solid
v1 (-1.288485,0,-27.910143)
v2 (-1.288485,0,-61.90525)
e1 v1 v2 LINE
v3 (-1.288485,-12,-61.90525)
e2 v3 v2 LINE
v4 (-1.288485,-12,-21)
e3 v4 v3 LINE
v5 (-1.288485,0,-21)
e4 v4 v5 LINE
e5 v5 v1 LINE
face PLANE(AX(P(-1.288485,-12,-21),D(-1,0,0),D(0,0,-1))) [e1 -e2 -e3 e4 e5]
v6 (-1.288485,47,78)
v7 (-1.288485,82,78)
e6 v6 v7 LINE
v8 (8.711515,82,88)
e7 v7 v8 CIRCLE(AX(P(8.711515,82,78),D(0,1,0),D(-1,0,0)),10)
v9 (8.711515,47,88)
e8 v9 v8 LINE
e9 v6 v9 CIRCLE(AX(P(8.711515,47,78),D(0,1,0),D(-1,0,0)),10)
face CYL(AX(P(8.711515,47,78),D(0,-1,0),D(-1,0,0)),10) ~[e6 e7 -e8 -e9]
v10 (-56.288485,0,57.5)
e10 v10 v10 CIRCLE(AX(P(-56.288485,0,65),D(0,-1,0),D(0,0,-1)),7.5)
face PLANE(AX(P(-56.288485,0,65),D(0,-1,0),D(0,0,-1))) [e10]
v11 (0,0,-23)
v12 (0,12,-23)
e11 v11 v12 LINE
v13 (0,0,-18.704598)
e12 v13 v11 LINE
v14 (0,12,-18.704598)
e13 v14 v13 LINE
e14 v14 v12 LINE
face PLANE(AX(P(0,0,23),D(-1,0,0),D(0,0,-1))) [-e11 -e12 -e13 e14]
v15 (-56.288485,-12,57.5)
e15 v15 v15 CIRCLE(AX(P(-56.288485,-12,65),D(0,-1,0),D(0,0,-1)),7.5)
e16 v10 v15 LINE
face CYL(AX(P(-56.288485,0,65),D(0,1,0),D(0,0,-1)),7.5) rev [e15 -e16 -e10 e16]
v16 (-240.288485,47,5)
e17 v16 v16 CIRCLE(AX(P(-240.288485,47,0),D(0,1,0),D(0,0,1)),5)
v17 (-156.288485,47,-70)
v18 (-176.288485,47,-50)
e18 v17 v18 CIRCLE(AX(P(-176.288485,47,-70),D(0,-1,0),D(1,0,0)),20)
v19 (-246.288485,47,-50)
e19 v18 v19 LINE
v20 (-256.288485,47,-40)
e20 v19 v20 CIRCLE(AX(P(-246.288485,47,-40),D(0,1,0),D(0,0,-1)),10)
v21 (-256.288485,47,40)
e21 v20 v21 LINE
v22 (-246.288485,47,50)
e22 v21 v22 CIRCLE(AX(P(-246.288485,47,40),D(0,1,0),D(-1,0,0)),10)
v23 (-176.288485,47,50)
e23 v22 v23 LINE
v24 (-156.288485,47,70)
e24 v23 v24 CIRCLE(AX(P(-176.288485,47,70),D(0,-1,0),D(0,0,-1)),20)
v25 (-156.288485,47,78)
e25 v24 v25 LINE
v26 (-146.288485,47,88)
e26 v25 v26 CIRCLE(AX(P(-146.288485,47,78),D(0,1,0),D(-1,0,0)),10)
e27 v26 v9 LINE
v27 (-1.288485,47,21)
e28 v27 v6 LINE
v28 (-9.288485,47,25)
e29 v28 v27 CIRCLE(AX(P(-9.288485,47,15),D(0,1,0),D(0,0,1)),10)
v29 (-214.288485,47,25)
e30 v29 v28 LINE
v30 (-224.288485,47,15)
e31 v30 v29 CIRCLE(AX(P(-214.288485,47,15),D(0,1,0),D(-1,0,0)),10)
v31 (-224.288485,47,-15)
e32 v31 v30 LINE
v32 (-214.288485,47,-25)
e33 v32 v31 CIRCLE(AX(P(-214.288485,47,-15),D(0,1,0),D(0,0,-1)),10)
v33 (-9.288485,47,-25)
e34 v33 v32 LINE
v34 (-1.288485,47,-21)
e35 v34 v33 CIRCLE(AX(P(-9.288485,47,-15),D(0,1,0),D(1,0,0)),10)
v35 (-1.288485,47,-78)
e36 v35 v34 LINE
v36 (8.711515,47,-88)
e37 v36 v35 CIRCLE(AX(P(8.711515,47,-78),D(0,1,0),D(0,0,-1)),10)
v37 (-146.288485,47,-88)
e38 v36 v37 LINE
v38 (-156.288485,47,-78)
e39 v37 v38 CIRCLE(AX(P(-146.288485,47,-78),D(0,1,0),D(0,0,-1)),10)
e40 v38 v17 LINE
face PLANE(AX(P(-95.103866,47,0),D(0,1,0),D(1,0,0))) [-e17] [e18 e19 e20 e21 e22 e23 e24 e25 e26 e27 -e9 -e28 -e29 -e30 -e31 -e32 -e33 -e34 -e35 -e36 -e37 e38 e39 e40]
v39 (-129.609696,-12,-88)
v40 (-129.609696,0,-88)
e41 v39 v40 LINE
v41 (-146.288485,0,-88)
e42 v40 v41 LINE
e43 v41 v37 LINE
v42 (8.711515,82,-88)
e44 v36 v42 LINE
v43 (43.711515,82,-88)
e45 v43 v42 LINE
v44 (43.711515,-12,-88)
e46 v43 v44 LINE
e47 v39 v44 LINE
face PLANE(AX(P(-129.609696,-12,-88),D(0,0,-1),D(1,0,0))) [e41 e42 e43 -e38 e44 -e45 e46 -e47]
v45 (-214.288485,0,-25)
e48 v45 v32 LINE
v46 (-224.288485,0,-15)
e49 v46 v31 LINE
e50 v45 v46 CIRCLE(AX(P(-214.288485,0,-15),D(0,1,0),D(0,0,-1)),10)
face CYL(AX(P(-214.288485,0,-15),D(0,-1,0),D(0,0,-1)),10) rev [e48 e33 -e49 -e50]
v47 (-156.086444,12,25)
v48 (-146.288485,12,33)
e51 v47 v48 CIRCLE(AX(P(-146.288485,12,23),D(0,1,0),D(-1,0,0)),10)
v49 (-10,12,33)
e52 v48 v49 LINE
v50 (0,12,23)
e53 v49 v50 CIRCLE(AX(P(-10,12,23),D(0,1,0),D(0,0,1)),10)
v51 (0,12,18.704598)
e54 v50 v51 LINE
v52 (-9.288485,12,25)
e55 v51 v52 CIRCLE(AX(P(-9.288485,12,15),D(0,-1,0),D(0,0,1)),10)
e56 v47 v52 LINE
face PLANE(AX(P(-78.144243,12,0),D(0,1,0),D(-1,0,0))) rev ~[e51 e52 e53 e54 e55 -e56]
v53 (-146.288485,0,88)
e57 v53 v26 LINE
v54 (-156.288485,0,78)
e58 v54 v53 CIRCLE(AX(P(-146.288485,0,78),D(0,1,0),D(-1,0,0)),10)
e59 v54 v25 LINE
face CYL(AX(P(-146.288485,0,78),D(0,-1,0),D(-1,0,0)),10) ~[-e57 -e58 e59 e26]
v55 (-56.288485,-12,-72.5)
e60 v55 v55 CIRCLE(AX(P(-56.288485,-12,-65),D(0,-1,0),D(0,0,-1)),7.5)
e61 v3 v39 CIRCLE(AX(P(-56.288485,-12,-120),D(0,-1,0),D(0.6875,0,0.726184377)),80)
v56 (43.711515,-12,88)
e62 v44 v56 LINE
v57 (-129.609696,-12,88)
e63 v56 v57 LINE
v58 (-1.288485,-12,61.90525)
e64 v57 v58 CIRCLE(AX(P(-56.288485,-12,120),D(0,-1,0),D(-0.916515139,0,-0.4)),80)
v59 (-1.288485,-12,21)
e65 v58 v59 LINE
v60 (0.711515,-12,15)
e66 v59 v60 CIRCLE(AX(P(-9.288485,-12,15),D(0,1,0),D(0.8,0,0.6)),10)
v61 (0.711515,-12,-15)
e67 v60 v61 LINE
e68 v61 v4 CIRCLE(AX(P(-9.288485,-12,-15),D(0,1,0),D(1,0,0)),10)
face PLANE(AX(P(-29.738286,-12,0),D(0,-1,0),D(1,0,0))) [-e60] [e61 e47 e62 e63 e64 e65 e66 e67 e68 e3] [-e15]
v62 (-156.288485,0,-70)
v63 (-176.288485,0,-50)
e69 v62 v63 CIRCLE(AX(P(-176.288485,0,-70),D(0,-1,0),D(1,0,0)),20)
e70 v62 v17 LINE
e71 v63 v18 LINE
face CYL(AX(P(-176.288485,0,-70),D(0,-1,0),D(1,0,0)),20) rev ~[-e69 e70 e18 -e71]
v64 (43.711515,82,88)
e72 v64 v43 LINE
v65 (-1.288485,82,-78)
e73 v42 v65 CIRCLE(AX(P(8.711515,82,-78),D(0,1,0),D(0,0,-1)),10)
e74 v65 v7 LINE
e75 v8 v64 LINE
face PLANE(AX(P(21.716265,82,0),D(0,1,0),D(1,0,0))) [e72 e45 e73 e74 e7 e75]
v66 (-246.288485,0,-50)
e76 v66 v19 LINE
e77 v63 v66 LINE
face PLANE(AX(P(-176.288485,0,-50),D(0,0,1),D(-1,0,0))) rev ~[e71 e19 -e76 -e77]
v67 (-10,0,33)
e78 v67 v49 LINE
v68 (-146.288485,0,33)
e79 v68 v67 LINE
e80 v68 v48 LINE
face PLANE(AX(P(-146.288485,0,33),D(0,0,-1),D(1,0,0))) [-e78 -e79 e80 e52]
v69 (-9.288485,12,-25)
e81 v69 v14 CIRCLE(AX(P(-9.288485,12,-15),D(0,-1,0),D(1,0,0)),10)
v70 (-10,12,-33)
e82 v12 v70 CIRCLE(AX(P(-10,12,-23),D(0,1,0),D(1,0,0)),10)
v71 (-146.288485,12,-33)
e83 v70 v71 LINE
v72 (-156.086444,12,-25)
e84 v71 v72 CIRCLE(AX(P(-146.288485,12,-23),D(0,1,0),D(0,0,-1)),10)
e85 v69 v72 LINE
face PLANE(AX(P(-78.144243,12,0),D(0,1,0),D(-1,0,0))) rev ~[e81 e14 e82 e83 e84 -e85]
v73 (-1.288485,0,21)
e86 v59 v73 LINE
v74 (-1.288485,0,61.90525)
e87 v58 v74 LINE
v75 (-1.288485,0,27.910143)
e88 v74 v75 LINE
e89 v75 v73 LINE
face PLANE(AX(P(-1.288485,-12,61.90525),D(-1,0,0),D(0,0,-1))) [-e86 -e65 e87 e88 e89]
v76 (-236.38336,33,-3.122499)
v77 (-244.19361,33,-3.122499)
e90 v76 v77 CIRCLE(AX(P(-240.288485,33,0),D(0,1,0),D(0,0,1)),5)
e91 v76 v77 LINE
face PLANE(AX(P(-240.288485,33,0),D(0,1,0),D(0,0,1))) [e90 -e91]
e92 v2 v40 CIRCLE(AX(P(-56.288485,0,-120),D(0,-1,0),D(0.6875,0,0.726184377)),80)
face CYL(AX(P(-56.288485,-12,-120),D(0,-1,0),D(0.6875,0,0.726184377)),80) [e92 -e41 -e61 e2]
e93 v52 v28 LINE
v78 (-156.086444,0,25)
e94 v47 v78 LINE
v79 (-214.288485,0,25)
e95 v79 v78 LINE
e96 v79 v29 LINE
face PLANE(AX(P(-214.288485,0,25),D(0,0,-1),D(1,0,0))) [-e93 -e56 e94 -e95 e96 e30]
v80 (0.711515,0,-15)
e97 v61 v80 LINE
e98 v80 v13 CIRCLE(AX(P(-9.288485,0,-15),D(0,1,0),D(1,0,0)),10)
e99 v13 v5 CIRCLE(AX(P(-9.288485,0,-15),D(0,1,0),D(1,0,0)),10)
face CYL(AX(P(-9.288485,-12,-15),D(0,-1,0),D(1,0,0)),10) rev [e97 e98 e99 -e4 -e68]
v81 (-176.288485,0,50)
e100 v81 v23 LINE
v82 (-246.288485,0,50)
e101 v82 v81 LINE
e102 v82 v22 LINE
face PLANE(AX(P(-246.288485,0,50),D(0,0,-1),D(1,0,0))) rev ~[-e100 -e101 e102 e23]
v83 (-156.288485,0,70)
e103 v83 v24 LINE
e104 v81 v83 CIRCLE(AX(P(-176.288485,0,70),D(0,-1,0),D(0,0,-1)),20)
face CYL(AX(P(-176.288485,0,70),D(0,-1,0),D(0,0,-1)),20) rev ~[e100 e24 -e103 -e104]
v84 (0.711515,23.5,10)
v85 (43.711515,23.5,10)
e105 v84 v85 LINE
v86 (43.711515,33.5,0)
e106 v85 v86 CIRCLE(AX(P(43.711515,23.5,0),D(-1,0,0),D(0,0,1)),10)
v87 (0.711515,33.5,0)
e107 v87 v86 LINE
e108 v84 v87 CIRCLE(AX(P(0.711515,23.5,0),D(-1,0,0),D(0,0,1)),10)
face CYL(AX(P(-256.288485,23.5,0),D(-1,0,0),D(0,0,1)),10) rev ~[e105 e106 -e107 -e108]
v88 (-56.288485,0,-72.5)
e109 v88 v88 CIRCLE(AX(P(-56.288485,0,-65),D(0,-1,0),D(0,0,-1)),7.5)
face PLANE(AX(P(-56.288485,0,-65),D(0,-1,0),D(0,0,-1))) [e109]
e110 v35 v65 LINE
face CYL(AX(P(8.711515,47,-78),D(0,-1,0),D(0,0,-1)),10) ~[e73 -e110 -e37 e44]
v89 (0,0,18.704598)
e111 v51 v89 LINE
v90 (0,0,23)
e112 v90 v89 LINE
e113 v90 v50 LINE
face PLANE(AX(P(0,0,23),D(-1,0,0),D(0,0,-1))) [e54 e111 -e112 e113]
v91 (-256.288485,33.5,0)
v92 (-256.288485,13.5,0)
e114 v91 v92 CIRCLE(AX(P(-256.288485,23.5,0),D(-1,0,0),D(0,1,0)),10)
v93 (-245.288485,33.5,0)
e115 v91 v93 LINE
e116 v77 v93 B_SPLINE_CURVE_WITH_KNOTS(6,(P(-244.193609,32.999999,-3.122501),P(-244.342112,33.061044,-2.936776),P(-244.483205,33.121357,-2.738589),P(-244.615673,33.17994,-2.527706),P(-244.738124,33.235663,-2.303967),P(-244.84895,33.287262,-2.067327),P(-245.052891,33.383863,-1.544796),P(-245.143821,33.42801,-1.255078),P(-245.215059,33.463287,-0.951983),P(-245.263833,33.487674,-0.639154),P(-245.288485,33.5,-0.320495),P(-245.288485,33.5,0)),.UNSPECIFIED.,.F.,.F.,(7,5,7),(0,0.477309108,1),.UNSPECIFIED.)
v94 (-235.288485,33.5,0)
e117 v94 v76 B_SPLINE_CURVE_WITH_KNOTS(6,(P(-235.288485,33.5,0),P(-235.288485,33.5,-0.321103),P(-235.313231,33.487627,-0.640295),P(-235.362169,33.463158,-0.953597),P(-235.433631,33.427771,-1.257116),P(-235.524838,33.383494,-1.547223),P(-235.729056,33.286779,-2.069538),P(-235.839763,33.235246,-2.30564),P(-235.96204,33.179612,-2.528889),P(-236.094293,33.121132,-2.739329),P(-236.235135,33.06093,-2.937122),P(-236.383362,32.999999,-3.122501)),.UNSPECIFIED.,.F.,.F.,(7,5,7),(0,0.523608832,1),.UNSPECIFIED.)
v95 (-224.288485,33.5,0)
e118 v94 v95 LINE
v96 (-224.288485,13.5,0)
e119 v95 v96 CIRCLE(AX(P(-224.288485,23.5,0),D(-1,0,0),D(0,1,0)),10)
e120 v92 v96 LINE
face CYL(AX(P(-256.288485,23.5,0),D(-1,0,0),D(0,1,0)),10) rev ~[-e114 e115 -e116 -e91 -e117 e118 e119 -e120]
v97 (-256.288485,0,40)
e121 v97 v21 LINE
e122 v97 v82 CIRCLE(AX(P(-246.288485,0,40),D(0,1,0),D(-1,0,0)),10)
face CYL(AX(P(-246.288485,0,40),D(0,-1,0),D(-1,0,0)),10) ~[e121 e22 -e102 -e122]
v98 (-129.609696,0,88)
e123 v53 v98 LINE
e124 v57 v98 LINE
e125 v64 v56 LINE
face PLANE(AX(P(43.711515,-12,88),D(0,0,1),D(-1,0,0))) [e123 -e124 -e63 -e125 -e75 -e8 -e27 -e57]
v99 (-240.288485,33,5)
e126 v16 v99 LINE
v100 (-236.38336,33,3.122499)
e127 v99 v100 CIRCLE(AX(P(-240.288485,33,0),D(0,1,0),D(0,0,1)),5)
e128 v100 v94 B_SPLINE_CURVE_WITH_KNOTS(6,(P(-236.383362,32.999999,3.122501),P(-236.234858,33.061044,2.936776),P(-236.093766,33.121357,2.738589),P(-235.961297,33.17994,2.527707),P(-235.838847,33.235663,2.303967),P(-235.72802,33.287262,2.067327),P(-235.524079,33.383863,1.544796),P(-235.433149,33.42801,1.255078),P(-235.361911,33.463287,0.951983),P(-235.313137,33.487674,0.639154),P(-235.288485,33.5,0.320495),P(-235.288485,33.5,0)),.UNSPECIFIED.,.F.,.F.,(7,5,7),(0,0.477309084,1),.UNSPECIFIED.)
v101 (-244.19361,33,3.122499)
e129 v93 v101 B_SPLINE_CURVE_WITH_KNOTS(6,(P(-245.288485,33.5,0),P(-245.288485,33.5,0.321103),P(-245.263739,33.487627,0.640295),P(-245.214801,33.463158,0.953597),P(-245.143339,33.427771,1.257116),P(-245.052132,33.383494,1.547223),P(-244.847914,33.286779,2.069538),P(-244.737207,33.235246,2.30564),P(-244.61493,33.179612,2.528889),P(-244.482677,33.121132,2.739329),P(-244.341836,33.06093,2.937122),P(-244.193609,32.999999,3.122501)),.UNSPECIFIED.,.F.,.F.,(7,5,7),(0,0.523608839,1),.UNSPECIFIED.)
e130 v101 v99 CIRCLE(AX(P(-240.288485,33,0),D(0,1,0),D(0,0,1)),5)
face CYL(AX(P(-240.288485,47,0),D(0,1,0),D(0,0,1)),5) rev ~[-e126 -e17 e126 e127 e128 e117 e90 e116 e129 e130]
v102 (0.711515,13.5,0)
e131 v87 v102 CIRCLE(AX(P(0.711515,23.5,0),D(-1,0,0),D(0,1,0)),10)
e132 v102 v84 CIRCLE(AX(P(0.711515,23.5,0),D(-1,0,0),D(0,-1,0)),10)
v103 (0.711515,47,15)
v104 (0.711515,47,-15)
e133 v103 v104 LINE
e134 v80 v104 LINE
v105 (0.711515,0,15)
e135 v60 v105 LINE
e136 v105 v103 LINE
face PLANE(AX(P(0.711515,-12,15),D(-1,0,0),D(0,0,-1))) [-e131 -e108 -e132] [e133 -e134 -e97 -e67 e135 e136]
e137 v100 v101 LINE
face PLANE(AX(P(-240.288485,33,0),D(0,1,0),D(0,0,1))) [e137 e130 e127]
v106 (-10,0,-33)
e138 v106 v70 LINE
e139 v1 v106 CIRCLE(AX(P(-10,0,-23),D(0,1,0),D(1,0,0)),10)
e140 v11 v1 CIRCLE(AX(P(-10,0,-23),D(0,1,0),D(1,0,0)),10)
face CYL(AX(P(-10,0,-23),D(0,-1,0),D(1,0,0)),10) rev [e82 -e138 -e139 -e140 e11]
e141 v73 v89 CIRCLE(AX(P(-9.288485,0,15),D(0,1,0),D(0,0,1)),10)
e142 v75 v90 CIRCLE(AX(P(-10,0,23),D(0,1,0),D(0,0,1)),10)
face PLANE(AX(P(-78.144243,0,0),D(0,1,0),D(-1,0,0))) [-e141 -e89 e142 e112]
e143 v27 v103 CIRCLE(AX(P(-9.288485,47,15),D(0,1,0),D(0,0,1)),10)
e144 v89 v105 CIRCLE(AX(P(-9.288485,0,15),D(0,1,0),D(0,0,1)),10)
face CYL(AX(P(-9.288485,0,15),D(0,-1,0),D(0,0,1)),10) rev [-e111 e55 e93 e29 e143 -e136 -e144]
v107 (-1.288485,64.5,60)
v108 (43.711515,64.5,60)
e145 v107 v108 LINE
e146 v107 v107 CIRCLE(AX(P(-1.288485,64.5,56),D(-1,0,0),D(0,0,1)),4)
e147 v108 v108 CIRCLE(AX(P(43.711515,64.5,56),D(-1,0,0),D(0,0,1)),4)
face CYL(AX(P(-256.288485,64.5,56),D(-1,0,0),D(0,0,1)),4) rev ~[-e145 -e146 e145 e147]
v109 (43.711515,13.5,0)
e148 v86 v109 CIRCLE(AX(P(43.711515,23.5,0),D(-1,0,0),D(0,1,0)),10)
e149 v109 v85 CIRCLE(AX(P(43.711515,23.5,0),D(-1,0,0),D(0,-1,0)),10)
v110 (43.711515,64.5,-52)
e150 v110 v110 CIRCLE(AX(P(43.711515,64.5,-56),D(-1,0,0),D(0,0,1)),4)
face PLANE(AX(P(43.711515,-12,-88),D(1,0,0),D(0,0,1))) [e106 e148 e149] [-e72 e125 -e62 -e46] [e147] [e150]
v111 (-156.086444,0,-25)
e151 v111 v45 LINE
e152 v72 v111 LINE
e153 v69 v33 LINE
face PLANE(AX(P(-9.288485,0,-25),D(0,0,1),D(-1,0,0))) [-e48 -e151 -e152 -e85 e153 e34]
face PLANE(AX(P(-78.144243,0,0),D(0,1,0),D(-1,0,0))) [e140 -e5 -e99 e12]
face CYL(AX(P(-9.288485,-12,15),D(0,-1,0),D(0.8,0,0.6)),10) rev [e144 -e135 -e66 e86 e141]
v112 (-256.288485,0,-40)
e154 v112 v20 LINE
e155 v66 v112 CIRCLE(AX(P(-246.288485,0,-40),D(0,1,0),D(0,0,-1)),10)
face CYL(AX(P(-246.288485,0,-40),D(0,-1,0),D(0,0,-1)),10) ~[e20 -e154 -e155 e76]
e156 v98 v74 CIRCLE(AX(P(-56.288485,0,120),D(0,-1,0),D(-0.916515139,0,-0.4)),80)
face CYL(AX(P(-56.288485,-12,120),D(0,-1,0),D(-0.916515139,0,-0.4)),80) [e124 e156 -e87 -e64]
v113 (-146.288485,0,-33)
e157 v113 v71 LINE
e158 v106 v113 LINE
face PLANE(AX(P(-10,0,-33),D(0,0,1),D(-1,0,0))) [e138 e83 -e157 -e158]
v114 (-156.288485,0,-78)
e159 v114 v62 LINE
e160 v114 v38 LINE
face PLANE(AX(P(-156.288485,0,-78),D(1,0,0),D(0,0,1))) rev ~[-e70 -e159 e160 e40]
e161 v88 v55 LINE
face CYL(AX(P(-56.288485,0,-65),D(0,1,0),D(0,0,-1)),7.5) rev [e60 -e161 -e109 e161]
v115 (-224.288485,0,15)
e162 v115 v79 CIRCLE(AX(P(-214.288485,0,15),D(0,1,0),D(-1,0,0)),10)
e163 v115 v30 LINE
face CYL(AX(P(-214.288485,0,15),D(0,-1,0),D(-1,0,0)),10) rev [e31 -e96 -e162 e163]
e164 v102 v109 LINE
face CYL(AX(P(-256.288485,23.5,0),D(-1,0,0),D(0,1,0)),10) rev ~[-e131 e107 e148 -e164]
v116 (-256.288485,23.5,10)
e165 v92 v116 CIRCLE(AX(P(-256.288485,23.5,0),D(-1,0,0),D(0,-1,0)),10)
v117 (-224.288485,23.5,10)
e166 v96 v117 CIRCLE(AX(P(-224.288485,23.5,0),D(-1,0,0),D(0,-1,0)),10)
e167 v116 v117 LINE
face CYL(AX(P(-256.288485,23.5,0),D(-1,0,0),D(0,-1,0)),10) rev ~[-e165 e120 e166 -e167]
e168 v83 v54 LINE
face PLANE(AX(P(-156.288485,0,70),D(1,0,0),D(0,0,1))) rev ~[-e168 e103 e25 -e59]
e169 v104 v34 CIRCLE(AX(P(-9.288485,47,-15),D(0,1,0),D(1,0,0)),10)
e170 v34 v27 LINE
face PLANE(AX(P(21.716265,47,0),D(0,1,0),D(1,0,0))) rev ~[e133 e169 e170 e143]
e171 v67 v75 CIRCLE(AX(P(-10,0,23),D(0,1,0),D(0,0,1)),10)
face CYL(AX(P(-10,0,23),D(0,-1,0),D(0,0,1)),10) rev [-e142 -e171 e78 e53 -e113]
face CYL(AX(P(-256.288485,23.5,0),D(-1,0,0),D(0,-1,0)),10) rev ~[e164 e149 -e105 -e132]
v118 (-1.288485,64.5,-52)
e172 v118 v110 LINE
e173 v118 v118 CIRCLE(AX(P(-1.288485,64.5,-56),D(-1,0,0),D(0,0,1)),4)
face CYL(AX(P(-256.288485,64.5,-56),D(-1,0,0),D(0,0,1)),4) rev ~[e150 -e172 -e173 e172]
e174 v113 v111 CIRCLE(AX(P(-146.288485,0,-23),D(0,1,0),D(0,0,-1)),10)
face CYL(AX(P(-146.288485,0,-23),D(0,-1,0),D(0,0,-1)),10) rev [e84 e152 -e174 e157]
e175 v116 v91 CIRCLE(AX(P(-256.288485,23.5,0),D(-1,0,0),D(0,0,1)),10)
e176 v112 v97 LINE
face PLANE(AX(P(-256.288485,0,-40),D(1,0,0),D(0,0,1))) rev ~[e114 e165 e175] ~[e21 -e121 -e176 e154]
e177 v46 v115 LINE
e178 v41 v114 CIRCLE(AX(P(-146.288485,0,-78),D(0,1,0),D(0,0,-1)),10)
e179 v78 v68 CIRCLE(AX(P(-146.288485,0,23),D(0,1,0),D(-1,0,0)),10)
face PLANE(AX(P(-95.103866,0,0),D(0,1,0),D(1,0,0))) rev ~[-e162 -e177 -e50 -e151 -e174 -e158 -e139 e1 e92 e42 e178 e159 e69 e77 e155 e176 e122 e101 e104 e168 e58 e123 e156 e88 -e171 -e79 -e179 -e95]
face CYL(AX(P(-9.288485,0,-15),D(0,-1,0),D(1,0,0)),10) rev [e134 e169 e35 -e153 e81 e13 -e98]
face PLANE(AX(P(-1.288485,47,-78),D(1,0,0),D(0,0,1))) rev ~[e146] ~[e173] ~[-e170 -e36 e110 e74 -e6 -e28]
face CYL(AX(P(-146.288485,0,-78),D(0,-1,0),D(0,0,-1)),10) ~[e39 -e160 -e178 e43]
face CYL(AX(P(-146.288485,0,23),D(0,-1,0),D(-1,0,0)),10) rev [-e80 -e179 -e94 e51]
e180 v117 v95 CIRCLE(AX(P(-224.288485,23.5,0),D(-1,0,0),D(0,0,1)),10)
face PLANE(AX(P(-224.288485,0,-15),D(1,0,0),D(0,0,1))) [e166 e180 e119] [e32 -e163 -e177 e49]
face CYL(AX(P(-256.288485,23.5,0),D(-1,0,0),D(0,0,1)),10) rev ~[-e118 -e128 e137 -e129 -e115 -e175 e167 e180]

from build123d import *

# Parameters (mm, degrees)
BOSS_EXTRUDE1_DEPTH = 47
BOSS_EXTRUDE2_DEPTH = 35
BOSS_EXTRUDE3_START = 12
BOSS_EXTRUDE3_DEPTH = 12
SKETCH3_R           = 4
CUT_EXTRUDE1_DEPTH  = 324.215098657
SKETCH6_R           = 7.5
CUT_EXTRUDE3_DEPTH  = 12
CUT_EXTRUDE2_DEPTH  = 12
SKETCH8_R           = 5
CUT_EXTRUDE4_DEPTH  = 14


with BuildPart() as part:
    # Sketch1 → Boss-Extrude1 (new body)
    with BuildSketch(Plane(origin=(0, 0, 0), x_dir=(1, 0, 0), z_dir=(0, 1, 0))):
        with BuildLine():
            Line((-256.288485132, 40), (-256.288485132, -40))
            ThreePointArc((-256.288485132, -40), (-253.359552944, -47.071067812), (-246.288485132, -50))
            Line((-246.288485132, -50), (-176.288485132, -50))
            ThreePointArc((-176.288485132, -50), (-162.146349509, -55.857864376), (-156.288485132, -70))
            Line((-156.288485132, -70), (-156.288485132, -78))
            ThreePointArc((-156.288485132, -78), (-153.359552944, -85.071067812), (-146.288485132, -88))
            Line((-146.288485132, -88), (43.711514868, -88))
            Line((43.711514868, -88), (43.711514868, 88))
            Line((43.711514868, 88), (-146.288485132, 88))
            ThreePointArc((-146.288485132, 88), (-153.359552944, 85.071067812), (-156.288485132, 78))
            Line((-156.288485132, 78), (-156.288485132, 70))
            ThreePointArc((-156.288485132, 70), (-162.146349509, 55.857864376), (-176.288485132, 50))
            Line((-176.288485132, 50), (-246.288485132, 50))
            ThreePointArc((-246.288485132, 50), (-253.359552944, 47.071067812), (-256.288485132, 40))
        make_face()
        with BuildLine():
            Line((-224.288485132, 15), (-224.288485132, -15))
            ThreePointArc((-224.288485132, -15), (-221.359552944, -22.071067812), (-214.288485132, -25))
            Line((-214.288485132, -25), (-9.288485132, -25))
            ThreePointArc((-9.288485132, -25), (-2.217417321, -22.071067812), (0.711514868, -15))
            Line((0.711514868, -15), (0.711514868, 15))
            ThreePointArc((0.711514868, 15), (-2.217417321, 22.071067812), (-9.288485132, 25))
            Line((-9.288485132, 25), (-214.288485132, 25))
            ThreePointArc((-214.288485132, 25), (-221.359552944, 22.071067812), (-224.288485132, 15))
        make_face(mode=Mode.SUBTRACT)
    extrude(amount=BOSS_EXTRUDE1_DEPTH)

    # Sketch2 → Boss-Extrude2 (add)
    with BuildSketch(Plane(origin=(0, 47, 0), x_dir=(1, 0, 0), z_dir=(0, 1, 0))):
        with BuildLine():
            Line((43.711514868, -88), (43.711514868, 88))
            Line((43.711514868, 88), (8.711514868, 88))
            ThreePointArc((8.711514868, 88), (1.640447056, 85.071067812), (-1.288485132, 78))
            Line((-1.288485132, 78), (-1.288485132, -78))
            ThreePointArc((-1.288485132, -78), (1.640447056, -85.071067812), (8.711514868, -88))
            Line((8.711514868, -88), (43.711514868, -88))
        make_face()
    extrude(amount=BOSS_EXTRUDE2_DEPTH)

    # Sketch7 → Boss-Extrude3 (add)
    with BuildSketch(Plane.XZ.offset(BOSS_EXTRUDE3_START)):
        with BuildLine():
            ThreePointArc((-1.288485132, -61.905249807), (-72.230589483, -41.6045326), (-129.609696252, -88))
            Line((-129.609696252, -88), (43.711514868, -88))
            Line((43.711514868, -88), (43.711514868, 88))
            Line((43.711514868, 88), (-129.609696252, 88))
            ThreePointArc((-129.609696252, 88), (-72.230589483, 41.6045326), (-1.288485132, 61.905249807))
            Line((-1.288485132, 61.905249807), (-1.288485132, 21))
            ThreePointArc((-1.288485132, 21), (0.198347848, 18.16227766), (0.711514868, 15))
            Line((0.711514868, 15), (0.711514868, -15))
            ThreePointArc((0.711514868, -15), (0.198347848, -18.16227766), (-1.288485132, -21))
            Line((-1.288485132, -21), (-1.288485132, -61.905249807))
        make_face()
    extrude(amount=-BOSS_EXTRUDE3_DEPTH)

    # Sketch3 → Cut-Extrude1 (cut, through all)
    with BuildSketch(Plane.ZY.offset(256.288485132)):
        with BuildLine():
            ThreePointArc((0, 33.5), (-10, 23.5), (0, 13.5))
            Line((0, 13.5), (0, 33.5))
        make_face()
        with BuildLine():
            Line((0, 33.5), (0, 13.5))
            ThreePointArc((0, 13.5), (7.071067812, 16.428932188), (10, 23.5))
            ThreePointArc((10, 23.5), (7.071067812, 30.571067812), (0, 33.5))
        make_face()
        with Locations((56, 64.5)):
            Circle(SKETCH3_R)
        with Locations((-56, 64.5)):
            Circle(SKETCH3_R)
    extrude(amount=-CUT_EXTRUDE1_DEPTH, mode=Mode.SUBTRACT)

    # Sketch6 → Cut-Extrude3 (cut)
    with BuildSketch(Plane.XZ):
        with Locations(Location((-56.288485132, 65, 0), (0, 0, 270))):
            Circle(SKETCH6_R)
        with Locations(Location((-56.288485132, -65, 0), (0, 0, 270))):
            Circle(SKETCH6_R)
    extrude(amount=CUT_EXTRUDE3_DEPTH, mode=Mode.SUBTRACT)

    # Sketch5 → Cut-Extrude2 (cut)
    with BuildSketch(Plane.XZ):
        with BuildLine():
            Line((0, 23), (0, -23))
            ThreePointArc((0, -23), (-2.928932188, -30.071067812), (-10, -33))
            Line((-10, -33), (-146.288485132, -33))
            ThreePointArc((-146.288485132, -33), (-153.359552944, -30.071067812), (-156.288485132, -23))
            Line((-156.288485132, -23), (-156.288485132, 23))
            ThreePointArc((-156.288485132, 23), (-153.359552944, 30.071067812), (-146.288485132, 33))
            Line((-146.288485132, 33), (-10, 33))
            ThreePointArc((-10, 33), (-2.928932188, 30.071067812), (0, 23))
        make_face()
    extrude(amount=-CUT_EXTRUDE2_DEPTH, mode=Mode.SUBTRACT)

    # Sketch8 → Cut-Extrude4 (cut)
    with BuildSketch(Plane(origin=(0, 47, 0), x_dir=(1, 0, 0), z_dir=(0, 1, 0))):
        with Locations(Location((-240.288485132, 0, 0), (0, 0, 270))):
            Circle(SKETCH8_R)
    extrude(amount=-CUT_EXTRUDE4_DEPTH, mode=Mode.SUBTRACT)


solid = part.part
